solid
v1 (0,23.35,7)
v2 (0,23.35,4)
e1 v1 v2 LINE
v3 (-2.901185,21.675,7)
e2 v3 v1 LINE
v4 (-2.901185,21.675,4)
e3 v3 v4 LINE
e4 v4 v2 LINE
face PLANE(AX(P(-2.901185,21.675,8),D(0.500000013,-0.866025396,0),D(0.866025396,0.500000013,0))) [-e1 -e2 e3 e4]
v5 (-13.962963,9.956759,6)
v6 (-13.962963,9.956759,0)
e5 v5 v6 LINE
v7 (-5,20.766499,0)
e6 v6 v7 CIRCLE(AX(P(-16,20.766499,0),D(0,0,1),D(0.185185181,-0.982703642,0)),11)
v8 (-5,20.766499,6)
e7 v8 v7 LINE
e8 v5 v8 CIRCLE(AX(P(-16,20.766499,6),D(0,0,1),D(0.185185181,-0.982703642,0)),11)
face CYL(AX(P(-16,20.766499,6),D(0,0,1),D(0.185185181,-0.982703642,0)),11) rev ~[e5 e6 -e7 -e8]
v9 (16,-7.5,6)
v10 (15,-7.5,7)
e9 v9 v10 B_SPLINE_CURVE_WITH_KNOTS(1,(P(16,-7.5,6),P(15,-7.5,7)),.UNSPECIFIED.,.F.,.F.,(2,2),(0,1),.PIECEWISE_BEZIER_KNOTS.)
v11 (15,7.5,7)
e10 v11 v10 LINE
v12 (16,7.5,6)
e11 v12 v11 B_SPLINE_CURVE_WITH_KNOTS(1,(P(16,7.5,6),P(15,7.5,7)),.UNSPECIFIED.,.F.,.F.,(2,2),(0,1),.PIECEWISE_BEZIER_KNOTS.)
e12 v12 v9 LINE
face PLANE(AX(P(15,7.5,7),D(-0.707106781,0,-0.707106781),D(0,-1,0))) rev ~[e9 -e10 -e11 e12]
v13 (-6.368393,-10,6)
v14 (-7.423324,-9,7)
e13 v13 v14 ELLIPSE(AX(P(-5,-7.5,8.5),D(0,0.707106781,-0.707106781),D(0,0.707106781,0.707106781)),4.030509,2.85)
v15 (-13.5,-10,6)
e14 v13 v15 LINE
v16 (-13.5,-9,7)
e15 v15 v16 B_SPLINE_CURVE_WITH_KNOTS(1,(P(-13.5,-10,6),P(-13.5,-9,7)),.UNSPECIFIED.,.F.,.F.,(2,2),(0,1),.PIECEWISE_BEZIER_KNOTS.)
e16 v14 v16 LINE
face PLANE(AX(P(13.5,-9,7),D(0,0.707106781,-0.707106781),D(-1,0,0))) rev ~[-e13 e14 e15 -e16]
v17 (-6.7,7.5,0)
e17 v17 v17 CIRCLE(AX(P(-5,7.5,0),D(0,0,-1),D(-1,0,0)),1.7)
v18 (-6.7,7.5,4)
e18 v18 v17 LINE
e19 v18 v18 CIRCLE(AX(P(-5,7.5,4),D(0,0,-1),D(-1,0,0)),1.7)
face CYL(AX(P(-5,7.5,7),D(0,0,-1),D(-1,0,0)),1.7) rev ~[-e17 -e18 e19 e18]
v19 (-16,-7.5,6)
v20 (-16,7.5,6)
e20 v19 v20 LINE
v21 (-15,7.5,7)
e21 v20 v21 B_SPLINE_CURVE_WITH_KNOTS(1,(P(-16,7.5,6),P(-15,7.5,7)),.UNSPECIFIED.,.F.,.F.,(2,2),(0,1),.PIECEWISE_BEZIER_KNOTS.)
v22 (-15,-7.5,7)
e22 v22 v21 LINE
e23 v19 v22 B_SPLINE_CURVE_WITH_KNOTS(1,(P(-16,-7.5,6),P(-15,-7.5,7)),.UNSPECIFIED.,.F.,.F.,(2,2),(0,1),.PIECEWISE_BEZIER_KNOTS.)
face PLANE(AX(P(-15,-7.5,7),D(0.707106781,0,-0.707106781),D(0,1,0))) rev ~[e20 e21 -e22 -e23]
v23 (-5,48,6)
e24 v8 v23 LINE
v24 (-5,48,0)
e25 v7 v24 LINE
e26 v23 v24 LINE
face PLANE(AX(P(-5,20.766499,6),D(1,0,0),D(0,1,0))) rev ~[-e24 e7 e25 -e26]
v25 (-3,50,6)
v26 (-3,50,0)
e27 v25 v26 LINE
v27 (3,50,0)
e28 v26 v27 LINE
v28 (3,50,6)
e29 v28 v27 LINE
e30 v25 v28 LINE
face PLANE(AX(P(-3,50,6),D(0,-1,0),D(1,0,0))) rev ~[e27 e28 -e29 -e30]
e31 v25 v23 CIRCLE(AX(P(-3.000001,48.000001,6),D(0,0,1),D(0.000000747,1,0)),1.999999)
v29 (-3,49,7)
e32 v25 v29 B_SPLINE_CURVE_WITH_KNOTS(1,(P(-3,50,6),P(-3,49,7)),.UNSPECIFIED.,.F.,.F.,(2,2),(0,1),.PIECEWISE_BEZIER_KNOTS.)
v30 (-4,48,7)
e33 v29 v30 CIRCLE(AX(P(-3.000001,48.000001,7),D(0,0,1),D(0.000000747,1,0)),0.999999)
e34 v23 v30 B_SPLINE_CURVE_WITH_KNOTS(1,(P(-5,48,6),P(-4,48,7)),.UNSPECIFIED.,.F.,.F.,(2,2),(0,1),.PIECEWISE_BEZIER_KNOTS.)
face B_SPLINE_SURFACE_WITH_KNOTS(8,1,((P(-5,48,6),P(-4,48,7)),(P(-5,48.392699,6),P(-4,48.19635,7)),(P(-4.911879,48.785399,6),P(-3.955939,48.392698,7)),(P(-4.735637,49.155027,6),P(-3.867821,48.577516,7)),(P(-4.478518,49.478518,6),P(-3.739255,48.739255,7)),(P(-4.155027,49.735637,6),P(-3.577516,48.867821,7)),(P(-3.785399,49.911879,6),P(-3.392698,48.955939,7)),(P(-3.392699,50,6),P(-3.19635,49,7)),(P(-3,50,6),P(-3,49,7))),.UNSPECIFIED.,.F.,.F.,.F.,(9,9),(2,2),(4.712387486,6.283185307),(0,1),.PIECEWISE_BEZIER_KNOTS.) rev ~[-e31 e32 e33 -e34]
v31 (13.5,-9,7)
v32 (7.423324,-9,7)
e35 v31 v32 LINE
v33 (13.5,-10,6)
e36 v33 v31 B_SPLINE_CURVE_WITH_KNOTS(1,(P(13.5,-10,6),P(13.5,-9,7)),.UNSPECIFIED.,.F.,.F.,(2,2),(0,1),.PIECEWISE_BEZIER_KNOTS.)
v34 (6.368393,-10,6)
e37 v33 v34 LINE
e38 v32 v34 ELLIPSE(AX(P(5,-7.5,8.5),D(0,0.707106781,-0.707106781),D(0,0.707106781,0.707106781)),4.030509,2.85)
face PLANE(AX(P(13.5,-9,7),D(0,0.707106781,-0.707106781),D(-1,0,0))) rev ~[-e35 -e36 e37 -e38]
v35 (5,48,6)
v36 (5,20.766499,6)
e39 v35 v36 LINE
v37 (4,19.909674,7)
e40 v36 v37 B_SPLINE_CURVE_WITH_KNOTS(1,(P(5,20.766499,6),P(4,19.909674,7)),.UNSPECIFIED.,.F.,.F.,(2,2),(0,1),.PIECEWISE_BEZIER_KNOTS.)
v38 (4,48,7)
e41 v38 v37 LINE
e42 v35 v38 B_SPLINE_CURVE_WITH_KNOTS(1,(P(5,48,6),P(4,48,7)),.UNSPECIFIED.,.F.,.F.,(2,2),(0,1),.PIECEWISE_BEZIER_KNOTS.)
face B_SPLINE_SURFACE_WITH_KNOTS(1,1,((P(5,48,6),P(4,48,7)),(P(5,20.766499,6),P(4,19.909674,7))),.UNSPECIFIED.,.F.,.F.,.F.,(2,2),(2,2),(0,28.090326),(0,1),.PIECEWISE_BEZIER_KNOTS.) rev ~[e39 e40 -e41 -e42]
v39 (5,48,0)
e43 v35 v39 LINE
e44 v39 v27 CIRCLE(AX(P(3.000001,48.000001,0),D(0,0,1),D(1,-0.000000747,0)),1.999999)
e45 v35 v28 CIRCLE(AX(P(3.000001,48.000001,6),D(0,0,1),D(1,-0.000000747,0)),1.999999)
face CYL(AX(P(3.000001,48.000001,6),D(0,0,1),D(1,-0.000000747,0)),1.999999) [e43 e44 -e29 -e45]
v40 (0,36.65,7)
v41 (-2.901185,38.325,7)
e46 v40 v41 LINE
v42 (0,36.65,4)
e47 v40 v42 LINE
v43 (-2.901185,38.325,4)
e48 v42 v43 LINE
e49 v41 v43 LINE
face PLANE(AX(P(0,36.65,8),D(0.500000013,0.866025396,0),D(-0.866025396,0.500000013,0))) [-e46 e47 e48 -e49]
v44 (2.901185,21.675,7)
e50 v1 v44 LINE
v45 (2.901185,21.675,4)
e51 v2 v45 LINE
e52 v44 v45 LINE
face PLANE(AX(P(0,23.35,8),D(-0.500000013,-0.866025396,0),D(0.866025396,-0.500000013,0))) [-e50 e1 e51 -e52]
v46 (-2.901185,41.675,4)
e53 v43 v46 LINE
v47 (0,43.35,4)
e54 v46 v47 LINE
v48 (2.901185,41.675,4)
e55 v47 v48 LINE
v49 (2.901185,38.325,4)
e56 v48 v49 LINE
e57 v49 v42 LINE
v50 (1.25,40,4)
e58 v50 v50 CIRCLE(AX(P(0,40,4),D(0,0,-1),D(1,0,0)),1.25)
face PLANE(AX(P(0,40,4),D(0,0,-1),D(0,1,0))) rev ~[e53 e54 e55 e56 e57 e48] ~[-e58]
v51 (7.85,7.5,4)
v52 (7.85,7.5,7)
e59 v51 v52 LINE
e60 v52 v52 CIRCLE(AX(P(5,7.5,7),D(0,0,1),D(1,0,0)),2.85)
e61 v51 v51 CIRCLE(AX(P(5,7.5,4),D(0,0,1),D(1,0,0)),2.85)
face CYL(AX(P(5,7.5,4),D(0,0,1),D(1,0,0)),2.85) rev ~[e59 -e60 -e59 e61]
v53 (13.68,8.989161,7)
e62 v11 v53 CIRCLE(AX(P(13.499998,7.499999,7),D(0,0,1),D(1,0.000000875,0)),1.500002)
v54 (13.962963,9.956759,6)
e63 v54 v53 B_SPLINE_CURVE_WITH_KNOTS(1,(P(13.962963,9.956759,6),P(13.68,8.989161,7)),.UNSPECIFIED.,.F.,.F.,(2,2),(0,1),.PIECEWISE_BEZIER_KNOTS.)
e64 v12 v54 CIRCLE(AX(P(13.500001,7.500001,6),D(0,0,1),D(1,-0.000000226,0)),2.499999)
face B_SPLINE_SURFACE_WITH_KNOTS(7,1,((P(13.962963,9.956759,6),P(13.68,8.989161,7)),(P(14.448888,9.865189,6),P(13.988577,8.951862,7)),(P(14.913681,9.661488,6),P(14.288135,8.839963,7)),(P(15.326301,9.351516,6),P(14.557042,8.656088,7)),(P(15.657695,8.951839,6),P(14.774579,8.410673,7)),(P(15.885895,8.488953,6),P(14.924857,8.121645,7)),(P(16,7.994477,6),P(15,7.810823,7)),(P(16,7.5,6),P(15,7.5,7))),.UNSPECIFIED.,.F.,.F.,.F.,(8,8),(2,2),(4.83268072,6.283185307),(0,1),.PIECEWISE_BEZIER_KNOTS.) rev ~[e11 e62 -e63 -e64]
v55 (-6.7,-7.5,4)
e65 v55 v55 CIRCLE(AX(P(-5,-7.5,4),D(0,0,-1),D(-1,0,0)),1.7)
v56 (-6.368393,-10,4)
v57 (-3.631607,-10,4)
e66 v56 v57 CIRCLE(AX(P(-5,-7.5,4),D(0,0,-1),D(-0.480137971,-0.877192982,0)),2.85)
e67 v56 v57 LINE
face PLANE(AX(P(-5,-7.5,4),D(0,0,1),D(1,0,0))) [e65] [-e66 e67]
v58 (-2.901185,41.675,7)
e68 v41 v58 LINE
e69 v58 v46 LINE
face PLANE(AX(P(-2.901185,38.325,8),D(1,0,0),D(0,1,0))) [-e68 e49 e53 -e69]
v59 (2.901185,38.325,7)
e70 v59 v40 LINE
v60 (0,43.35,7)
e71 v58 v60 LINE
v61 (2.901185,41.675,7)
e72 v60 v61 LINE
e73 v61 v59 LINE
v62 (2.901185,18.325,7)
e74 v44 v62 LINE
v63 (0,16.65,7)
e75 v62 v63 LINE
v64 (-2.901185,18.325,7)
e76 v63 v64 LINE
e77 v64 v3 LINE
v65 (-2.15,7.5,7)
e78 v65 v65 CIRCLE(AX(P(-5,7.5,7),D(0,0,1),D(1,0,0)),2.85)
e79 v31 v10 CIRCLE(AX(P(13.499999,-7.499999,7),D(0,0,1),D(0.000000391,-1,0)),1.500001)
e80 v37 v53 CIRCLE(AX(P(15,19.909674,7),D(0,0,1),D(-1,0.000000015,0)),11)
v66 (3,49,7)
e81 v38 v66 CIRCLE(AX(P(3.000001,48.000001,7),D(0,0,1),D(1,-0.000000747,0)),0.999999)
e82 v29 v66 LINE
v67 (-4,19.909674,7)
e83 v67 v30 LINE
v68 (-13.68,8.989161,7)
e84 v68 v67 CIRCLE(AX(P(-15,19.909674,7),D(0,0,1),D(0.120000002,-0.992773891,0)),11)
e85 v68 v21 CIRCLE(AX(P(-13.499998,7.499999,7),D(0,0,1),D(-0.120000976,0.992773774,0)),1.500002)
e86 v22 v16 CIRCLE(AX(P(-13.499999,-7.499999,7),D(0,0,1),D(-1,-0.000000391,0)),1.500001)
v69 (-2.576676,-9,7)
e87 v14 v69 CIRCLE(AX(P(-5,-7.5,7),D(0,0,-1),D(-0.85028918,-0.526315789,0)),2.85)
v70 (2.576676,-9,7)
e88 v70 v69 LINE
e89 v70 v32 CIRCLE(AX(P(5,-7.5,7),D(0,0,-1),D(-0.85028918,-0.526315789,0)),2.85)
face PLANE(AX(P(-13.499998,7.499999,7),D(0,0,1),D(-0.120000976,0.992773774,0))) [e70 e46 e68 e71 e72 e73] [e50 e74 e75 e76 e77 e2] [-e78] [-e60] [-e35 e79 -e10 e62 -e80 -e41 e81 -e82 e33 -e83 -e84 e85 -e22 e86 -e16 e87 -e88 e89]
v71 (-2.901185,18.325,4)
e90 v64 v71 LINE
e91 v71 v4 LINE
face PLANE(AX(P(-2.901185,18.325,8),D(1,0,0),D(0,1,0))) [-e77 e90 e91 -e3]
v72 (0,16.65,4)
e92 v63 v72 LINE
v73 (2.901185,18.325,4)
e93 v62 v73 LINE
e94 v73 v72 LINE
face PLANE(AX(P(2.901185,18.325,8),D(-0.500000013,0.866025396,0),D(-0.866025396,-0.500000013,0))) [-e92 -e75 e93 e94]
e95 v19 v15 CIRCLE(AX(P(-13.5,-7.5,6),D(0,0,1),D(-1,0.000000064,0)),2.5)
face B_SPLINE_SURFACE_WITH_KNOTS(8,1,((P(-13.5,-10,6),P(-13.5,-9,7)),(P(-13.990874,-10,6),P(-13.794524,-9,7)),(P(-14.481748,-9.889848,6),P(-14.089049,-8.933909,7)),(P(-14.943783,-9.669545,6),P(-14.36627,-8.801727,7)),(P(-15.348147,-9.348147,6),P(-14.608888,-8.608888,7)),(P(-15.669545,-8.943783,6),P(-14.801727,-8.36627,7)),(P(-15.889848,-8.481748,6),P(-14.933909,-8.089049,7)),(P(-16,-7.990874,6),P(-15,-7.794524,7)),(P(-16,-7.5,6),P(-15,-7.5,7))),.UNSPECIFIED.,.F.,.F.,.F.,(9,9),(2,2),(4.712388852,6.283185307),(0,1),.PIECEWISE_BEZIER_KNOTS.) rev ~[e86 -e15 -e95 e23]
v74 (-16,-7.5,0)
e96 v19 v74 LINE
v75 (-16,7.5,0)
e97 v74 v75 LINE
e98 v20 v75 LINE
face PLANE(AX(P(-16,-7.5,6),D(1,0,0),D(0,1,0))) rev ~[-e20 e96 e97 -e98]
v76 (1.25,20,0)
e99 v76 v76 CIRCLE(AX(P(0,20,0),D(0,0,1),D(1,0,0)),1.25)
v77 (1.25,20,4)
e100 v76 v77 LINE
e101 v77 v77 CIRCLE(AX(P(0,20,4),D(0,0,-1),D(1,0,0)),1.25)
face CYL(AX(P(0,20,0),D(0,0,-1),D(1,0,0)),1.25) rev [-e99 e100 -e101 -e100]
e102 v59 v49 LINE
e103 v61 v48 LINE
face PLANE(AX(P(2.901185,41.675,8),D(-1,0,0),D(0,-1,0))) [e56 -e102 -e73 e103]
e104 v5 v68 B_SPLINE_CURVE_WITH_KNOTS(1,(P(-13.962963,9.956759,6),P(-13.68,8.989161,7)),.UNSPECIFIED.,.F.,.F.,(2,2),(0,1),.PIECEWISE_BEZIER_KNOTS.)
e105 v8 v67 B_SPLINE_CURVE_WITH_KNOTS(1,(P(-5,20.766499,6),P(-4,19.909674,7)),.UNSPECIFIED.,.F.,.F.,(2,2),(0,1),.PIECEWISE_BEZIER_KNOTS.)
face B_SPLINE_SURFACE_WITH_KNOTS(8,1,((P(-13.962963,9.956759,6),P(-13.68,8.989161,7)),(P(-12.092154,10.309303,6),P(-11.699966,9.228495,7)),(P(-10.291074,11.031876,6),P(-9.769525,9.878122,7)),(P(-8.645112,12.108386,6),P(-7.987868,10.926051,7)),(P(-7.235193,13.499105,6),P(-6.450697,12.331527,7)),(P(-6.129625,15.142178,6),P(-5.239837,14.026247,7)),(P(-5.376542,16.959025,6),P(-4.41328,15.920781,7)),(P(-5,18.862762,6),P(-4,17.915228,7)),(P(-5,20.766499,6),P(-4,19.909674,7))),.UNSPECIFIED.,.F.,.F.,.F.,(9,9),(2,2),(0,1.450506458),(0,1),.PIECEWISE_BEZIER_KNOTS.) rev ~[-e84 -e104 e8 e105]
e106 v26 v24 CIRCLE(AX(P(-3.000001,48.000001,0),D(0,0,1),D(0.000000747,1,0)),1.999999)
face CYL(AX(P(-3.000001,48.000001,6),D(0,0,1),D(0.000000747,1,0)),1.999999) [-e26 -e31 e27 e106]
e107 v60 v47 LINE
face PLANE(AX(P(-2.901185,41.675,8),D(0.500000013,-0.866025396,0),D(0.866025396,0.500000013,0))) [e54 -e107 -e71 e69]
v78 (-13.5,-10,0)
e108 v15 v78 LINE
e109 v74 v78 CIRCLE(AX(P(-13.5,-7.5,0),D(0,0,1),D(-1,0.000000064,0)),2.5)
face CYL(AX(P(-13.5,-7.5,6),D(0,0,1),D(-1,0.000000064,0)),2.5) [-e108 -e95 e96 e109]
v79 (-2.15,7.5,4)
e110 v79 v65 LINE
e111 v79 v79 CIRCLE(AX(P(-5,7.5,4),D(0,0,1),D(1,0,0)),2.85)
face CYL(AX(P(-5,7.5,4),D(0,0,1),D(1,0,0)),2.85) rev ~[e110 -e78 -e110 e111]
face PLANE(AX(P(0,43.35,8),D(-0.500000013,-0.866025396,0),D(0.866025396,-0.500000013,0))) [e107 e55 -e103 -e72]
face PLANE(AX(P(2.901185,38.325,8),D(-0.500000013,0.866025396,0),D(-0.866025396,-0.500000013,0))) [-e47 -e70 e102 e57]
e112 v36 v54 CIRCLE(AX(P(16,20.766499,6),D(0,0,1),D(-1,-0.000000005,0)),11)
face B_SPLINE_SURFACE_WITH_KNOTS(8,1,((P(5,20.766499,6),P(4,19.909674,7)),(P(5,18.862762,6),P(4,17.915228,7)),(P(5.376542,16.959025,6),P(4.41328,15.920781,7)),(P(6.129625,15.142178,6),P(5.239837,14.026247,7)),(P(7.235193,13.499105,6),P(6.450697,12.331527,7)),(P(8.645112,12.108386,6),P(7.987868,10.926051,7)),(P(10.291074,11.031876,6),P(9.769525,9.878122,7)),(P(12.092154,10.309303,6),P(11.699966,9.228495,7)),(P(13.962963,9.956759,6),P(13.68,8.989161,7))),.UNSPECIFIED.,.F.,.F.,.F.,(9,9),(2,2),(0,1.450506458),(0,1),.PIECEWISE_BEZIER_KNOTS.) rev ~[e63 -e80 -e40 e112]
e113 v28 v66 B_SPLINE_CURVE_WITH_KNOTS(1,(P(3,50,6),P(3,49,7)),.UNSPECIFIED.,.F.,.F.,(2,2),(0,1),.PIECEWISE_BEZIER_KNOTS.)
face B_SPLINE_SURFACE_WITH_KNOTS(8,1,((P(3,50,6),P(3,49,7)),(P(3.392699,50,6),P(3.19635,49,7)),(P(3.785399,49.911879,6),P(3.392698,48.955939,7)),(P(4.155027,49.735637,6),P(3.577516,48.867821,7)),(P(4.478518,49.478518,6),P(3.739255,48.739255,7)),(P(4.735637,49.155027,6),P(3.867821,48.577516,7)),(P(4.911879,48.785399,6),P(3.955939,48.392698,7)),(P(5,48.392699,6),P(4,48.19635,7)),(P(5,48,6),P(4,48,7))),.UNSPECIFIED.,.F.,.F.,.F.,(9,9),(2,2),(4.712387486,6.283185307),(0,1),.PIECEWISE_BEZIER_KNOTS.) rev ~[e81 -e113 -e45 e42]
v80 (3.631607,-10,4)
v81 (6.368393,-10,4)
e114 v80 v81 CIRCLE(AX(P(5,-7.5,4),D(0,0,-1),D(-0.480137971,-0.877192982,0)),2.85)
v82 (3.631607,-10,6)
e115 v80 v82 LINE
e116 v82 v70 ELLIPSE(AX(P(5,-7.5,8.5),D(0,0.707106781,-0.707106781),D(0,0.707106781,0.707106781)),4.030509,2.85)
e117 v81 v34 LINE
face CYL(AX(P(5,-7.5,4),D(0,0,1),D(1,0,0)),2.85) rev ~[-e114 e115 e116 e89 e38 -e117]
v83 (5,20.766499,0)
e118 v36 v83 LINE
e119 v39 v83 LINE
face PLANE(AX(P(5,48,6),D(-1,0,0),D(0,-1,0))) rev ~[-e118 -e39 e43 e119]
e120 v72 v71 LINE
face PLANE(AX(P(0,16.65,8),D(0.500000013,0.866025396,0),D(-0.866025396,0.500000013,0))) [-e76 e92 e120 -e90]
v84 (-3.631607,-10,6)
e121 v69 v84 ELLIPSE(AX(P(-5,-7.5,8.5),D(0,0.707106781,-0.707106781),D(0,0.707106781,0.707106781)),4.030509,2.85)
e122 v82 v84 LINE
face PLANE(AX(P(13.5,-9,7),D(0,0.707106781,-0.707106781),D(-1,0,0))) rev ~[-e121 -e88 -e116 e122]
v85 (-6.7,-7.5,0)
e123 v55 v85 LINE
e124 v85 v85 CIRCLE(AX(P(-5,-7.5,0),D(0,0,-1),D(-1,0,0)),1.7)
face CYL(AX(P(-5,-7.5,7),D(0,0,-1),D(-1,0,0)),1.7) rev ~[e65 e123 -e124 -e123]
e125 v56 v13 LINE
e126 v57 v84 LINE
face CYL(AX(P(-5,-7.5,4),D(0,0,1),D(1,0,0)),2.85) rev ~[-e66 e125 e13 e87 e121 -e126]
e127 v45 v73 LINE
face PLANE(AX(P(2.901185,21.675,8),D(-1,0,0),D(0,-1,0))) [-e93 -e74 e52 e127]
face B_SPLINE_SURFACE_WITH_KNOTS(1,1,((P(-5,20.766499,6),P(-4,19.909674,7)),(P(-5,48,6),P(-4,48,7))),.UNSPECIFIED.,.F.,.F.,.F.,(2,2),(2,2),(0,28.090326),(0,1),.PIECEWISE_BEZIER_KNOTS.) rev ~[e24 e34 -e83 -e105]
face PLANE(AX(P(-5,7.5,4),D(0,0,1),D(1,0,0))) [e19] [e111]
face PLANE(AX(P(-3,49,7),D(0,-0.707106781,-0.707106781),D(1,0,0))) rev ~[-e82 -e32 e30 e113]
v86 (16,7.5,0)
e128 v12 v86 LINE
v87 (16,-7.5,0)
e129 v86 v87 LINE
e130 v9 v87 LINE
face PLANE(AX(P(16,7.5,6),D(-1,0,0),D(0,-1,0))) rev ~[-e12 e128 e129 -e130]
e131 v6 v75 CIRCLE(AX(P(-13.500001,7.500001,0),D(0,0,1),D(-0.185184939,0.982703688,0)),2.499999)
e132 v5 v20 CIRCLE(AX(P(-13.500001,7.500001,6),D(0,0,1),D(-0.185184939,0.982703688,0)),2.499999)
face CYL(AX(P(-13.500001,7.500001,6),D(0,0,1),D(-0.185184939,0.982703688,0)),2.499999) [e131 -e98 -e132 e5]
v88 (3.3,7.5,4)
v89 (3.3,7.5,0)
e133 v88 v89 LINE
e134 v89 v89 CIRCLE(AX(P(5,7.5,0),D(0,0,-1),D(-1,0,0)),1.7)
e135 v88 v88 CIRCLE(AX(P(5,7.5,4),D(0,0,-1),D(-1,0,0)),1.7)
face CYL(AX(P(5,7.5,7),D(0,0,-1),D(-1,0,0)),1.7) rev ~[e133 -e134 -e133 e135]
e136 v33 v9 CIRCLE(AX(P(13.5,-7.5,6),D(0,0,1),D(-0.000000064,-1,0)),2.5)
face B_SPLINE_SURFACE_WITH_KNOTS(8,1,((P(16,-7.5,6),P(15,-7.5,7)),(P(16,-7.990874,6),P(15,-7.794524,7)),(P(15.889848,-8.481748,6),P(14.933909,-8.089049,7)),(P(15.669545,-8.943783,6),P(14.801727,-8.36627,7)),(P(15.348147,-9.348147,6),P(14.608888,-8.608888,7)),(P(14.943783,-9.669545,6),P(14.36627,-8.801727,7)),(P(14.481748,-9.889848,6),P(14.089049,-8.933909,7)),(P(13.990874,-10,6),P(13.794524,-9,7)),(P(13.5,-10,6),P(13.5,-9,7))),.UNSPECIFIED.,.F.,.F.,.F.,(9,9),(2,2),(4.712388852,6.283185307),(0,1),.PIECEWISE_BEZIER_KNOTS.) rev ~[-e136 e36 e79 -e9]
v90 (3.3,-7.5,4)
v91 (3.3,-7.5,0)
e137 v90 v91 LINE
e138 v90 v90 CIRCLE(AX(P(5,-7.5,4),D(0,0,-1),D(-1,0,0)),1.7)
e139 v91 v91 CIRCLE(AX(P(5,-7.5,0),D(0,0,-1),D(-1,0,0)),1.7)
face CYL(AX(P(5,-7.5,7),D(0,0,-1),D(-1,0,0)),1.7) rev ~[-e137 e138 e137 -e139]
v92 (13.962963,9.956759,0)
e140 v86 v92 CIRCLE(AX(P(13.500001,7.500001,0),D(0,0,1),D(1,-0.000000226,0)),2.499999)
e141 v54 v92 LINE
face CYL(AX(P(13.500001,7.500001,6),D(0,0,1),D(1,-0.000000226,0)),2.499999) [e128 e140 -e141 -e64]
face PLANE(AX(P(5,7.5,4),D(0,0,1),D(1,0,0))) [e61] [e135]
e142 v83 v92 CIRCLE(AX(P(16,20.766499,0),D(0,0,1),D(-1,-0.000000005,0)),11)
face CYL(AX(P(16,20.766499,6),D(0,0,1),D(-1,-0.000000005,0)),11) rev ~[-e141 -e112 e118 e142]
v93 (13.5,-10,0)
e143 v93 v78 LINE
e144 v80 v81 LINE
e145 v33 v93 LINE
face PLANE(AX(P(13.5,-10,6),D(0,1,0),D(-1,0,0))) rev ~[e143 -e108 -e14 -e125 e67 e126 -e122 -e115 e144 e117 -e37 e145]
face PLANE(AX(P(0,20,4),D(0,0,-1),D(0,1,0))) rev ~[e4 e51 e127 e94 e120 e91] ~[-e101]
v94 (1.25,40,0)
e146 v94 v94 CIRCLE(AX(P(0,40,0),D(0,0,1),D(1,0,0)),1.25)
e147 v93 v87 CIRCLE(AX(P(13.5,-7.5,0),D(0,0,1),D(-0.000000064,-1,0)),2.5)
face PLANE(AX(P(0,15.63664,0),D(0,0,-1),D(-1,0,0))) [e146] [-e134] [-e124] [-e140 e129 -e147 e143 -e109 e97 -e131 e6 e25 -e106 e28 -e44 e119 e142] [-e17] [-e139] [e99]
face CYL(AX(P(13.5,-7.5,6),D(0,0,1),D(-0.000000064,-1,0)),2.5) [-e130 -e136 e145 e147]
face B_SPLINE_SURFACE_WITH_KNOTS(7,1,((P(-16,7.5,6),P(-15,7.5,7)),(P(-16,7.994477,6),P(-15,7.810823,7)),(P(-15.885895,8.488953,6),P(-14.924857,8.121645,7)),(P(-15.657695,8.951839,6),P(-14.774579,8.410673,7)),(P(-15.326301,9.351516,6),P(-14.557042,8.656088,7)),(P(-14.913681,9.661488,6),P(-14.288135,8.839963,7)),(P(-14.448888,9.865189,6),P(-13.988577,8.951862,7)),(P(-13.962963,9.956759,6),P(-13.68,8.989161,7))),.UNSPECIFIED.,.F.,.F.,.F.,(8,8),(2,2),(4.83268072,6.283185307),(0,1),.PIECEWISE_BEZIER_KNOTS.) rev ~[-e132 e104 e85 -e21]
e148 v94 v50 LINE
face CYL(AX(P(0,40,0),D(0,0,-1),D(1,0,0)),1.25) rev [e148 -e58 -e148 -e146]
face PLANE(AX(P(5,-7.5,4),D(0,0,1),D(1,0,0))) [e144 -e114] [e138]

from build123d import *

# Parameters (mm, degrees)
PAD006_DEPTH     = 0.2
PRISM003_DEPTH   = 4
PRISM004_DEPTH   = 4
PAD_DEPTH        = 6
HOLE_D           = 3.4
HOLE_DEPTH       = 25
HOLE_CBORE_D     = 5.7
HOLE_CBORE_DEPTH = 3
SKETCH004_R      = 1.25
HOLE001_DEPTH    = 25


with BuildPart() as railnutholes:
    # Sketch009 → Pad006 (new body)
    with BuildSketch(Plane.XY.offset(8)):
        with BuildLine():
            ThreePointArc((1.5, 40), (0, 41.5), (-1.5, 40))
            Line((-1.5, 40), (-1.5, 20))
            ThreePointArc((-1.5, 20), (0, 18.5), (1.5, 20))
            Line((1.5, 20), (1.5, 40))
        make_face()
    extrude(amount=PAD006_DEPTH)

    # Prism003 → Prism003 (join)
    with BuildSketch(Plane(origin=(0, 20, 8), x_dir=(0, 1, 0), z_dir=(0, 0, -1))):
        Polygon((3.35, 0), (1.675, 2.901185), (-1.675, 2.901185), (-3.35, 0), (-1.675, -2.901185), (1.675, -2.901185), align=None)
    extrude(amount=PRISM003_DEPTH)

    # Prism004 → Prism004 (join)
    with BuildSketch(Plane(origin=(0, 40, 8), x_dir=(0, 1, 0), z_dir=(0, 0, -1))):
        Polygon((3.35, 0), (1.675, 2.901185), (-1.675, 2.901185), (-3.35, 0), (-1.675, -2.901185), (1.675, -2.901185), align=None)
    extrude(amount=PRISM004_DEPTH)


with BuildPart() as carriagebasemain:
    # Sketch → Pad (new body)
    with BuildSketch(Plane.XY.offset(6)):
        with BuildLine():
            Line((-16, -7.5), (-16, 7.5))
            ThreePointArc((-13.962963, 9.956759), (-15.424501, 9.095712), (-16, 7.5))
            ThreePointArc((-13.962963, 9.956759), (-7.532196, 13.745367), (-5, 20.766499))
            Line((-5, 20.766499), (-5, 48))
            ThreePointArc((-3, 50), (-4.414214, 49.414214), (-5, 48))
            Line((-3, 50), (3, 50))
            ThreePointArc((5, 48), (4.414214, 49.414214), (3, 50))
            Line((5, 48), (5, 20.766499))
            ThreePointArc((5, 20.766499), (7.532196, 13.745367), (13.962963, 9.956759))
            ThreePointArc((16, 7.5), (15.424501, 9.095712), (13.962963, 9.956759))
            Line((16, 7.5), (16, -7.5))
            ThreePointArc((13.5, -10), (15.267767, -9.267767), (16, -7.5))
            Line((13.5, -10), (-13.5, -10))
            ThreePointArc((-16, -7.5), (-15.267767, -9.267767), (-13.5, -10))
        make_face()
    extrude(amount=-PAD_DEPTH)

    # Sketch → AdditiveLoft section 0
    with BuildSketch(Plane.XY.offset(6)):
        with BuildLine():
            Line((-16, -7.5), (-16, 7.5))
            ThreePointArc((-13.962963, 9.956759), (-15.424501, 9.095712), (-16, 7.5))
            ThreePointArc((-13.962963, 9.956759), (-7.532196, 13.745367), (-5, 20.766499))
            Line((-5, 20.766499), (-5, 48))
            ThreePointArc((-3, 50), (-4.414214, 49.414214), (-5, 48))
            Line((-3, 50), (3, 50))
            ThreePointArc((5, 48), (4.414214, 49.414214), (3, 50))
            Line((5, 48), (5, 20.766499))
            ThreePointArc((5, 20.766499), (7.532196, 13.745367), (13.962963, 9.956759))
            ThreePointArc((16, 7.5), (15.424501, 9.095712), (13.962963, 9.956759))
            Line((16, 7.5), (16, -7.5))
            ThreePointArc((13.5, -10), (15.267767, -9.267767), (16, -7.5))
            Line((13.5, -10), (-13.5, -10))
            ThreePointArc((-16, -7.5), (-15.267767, -9.267767), (-13.5, -10))
        make_face()
    # Sketch001 → AdditiveLoft section 1
    with BuildSketch(Plane.XY.offset(7)):
        with BuildLine():
            Line((-15, -7.5), (-15, 7.5))
            ThreePointArc((-13.68, 8.989161), (-14.622497, 8.494987), (-15, 7.5))
            ThreePointArc((-13.68, 8.989161), (-6.768354, 12.613099), (-4, 19.909674))
            Line((-4, 19.909674), (-4, 48))
            ThreePointArc((-3, 49), (-3.707107, 48.707107), (-4, 48))
            Line((-3, 49), (3, 49))
            ThreePointArc((4, 48), (3.707107, 48.707107), (3, 49))
            Line((4, 48), (4, 19.909674))
            ThreePointArc((4, 19.909674), (6.768354, 12.613099), (13.68, 8.989161))
            ThreePointArc((15, 7.5), (14.622497, 8.494987), (13.68, 8.989161))
            Line((15, 7.5), (15, -7.5))
            ThreePointArc((13.5, -9), (14.56066, -8.56066), (15, -7.5))
            Line((13.5, -9), (-13.5, -9))
            ThreePointArc((-15, -7.5), (-14.56066, -8.56066), (-13.5, -9))
        make_face()
    loft()

    # Hole
    with Locations(Plane.XY.offset(7)):
        with Locations((-5, 7.5), (5, 7.5), (-5, -7.5), (5, -7.5)):
            CounterBoreHole(HOLE_D / 2, HOLE_CBORE_D / 2, HOLE_CBORE_DEPTH, depth=HOLE_DEPTH)

    # Sketch004 → Hole001 (cut)
    with BuildSketch(Plane.XY):
        with Locations((0, 20)):
            Circle(SKETCH004_R)
        with Locations((0, 40)):
            Circle(SKETCH004_R)
    extrude(amount=HOLE001_DEPTH, mode=Mode.SUBTRACT)

    # Boolean: cut RailNutHoles
    add(railnutholes.part, mode=Mode.SUBTRACT)


solid = carriagebasemain.part
